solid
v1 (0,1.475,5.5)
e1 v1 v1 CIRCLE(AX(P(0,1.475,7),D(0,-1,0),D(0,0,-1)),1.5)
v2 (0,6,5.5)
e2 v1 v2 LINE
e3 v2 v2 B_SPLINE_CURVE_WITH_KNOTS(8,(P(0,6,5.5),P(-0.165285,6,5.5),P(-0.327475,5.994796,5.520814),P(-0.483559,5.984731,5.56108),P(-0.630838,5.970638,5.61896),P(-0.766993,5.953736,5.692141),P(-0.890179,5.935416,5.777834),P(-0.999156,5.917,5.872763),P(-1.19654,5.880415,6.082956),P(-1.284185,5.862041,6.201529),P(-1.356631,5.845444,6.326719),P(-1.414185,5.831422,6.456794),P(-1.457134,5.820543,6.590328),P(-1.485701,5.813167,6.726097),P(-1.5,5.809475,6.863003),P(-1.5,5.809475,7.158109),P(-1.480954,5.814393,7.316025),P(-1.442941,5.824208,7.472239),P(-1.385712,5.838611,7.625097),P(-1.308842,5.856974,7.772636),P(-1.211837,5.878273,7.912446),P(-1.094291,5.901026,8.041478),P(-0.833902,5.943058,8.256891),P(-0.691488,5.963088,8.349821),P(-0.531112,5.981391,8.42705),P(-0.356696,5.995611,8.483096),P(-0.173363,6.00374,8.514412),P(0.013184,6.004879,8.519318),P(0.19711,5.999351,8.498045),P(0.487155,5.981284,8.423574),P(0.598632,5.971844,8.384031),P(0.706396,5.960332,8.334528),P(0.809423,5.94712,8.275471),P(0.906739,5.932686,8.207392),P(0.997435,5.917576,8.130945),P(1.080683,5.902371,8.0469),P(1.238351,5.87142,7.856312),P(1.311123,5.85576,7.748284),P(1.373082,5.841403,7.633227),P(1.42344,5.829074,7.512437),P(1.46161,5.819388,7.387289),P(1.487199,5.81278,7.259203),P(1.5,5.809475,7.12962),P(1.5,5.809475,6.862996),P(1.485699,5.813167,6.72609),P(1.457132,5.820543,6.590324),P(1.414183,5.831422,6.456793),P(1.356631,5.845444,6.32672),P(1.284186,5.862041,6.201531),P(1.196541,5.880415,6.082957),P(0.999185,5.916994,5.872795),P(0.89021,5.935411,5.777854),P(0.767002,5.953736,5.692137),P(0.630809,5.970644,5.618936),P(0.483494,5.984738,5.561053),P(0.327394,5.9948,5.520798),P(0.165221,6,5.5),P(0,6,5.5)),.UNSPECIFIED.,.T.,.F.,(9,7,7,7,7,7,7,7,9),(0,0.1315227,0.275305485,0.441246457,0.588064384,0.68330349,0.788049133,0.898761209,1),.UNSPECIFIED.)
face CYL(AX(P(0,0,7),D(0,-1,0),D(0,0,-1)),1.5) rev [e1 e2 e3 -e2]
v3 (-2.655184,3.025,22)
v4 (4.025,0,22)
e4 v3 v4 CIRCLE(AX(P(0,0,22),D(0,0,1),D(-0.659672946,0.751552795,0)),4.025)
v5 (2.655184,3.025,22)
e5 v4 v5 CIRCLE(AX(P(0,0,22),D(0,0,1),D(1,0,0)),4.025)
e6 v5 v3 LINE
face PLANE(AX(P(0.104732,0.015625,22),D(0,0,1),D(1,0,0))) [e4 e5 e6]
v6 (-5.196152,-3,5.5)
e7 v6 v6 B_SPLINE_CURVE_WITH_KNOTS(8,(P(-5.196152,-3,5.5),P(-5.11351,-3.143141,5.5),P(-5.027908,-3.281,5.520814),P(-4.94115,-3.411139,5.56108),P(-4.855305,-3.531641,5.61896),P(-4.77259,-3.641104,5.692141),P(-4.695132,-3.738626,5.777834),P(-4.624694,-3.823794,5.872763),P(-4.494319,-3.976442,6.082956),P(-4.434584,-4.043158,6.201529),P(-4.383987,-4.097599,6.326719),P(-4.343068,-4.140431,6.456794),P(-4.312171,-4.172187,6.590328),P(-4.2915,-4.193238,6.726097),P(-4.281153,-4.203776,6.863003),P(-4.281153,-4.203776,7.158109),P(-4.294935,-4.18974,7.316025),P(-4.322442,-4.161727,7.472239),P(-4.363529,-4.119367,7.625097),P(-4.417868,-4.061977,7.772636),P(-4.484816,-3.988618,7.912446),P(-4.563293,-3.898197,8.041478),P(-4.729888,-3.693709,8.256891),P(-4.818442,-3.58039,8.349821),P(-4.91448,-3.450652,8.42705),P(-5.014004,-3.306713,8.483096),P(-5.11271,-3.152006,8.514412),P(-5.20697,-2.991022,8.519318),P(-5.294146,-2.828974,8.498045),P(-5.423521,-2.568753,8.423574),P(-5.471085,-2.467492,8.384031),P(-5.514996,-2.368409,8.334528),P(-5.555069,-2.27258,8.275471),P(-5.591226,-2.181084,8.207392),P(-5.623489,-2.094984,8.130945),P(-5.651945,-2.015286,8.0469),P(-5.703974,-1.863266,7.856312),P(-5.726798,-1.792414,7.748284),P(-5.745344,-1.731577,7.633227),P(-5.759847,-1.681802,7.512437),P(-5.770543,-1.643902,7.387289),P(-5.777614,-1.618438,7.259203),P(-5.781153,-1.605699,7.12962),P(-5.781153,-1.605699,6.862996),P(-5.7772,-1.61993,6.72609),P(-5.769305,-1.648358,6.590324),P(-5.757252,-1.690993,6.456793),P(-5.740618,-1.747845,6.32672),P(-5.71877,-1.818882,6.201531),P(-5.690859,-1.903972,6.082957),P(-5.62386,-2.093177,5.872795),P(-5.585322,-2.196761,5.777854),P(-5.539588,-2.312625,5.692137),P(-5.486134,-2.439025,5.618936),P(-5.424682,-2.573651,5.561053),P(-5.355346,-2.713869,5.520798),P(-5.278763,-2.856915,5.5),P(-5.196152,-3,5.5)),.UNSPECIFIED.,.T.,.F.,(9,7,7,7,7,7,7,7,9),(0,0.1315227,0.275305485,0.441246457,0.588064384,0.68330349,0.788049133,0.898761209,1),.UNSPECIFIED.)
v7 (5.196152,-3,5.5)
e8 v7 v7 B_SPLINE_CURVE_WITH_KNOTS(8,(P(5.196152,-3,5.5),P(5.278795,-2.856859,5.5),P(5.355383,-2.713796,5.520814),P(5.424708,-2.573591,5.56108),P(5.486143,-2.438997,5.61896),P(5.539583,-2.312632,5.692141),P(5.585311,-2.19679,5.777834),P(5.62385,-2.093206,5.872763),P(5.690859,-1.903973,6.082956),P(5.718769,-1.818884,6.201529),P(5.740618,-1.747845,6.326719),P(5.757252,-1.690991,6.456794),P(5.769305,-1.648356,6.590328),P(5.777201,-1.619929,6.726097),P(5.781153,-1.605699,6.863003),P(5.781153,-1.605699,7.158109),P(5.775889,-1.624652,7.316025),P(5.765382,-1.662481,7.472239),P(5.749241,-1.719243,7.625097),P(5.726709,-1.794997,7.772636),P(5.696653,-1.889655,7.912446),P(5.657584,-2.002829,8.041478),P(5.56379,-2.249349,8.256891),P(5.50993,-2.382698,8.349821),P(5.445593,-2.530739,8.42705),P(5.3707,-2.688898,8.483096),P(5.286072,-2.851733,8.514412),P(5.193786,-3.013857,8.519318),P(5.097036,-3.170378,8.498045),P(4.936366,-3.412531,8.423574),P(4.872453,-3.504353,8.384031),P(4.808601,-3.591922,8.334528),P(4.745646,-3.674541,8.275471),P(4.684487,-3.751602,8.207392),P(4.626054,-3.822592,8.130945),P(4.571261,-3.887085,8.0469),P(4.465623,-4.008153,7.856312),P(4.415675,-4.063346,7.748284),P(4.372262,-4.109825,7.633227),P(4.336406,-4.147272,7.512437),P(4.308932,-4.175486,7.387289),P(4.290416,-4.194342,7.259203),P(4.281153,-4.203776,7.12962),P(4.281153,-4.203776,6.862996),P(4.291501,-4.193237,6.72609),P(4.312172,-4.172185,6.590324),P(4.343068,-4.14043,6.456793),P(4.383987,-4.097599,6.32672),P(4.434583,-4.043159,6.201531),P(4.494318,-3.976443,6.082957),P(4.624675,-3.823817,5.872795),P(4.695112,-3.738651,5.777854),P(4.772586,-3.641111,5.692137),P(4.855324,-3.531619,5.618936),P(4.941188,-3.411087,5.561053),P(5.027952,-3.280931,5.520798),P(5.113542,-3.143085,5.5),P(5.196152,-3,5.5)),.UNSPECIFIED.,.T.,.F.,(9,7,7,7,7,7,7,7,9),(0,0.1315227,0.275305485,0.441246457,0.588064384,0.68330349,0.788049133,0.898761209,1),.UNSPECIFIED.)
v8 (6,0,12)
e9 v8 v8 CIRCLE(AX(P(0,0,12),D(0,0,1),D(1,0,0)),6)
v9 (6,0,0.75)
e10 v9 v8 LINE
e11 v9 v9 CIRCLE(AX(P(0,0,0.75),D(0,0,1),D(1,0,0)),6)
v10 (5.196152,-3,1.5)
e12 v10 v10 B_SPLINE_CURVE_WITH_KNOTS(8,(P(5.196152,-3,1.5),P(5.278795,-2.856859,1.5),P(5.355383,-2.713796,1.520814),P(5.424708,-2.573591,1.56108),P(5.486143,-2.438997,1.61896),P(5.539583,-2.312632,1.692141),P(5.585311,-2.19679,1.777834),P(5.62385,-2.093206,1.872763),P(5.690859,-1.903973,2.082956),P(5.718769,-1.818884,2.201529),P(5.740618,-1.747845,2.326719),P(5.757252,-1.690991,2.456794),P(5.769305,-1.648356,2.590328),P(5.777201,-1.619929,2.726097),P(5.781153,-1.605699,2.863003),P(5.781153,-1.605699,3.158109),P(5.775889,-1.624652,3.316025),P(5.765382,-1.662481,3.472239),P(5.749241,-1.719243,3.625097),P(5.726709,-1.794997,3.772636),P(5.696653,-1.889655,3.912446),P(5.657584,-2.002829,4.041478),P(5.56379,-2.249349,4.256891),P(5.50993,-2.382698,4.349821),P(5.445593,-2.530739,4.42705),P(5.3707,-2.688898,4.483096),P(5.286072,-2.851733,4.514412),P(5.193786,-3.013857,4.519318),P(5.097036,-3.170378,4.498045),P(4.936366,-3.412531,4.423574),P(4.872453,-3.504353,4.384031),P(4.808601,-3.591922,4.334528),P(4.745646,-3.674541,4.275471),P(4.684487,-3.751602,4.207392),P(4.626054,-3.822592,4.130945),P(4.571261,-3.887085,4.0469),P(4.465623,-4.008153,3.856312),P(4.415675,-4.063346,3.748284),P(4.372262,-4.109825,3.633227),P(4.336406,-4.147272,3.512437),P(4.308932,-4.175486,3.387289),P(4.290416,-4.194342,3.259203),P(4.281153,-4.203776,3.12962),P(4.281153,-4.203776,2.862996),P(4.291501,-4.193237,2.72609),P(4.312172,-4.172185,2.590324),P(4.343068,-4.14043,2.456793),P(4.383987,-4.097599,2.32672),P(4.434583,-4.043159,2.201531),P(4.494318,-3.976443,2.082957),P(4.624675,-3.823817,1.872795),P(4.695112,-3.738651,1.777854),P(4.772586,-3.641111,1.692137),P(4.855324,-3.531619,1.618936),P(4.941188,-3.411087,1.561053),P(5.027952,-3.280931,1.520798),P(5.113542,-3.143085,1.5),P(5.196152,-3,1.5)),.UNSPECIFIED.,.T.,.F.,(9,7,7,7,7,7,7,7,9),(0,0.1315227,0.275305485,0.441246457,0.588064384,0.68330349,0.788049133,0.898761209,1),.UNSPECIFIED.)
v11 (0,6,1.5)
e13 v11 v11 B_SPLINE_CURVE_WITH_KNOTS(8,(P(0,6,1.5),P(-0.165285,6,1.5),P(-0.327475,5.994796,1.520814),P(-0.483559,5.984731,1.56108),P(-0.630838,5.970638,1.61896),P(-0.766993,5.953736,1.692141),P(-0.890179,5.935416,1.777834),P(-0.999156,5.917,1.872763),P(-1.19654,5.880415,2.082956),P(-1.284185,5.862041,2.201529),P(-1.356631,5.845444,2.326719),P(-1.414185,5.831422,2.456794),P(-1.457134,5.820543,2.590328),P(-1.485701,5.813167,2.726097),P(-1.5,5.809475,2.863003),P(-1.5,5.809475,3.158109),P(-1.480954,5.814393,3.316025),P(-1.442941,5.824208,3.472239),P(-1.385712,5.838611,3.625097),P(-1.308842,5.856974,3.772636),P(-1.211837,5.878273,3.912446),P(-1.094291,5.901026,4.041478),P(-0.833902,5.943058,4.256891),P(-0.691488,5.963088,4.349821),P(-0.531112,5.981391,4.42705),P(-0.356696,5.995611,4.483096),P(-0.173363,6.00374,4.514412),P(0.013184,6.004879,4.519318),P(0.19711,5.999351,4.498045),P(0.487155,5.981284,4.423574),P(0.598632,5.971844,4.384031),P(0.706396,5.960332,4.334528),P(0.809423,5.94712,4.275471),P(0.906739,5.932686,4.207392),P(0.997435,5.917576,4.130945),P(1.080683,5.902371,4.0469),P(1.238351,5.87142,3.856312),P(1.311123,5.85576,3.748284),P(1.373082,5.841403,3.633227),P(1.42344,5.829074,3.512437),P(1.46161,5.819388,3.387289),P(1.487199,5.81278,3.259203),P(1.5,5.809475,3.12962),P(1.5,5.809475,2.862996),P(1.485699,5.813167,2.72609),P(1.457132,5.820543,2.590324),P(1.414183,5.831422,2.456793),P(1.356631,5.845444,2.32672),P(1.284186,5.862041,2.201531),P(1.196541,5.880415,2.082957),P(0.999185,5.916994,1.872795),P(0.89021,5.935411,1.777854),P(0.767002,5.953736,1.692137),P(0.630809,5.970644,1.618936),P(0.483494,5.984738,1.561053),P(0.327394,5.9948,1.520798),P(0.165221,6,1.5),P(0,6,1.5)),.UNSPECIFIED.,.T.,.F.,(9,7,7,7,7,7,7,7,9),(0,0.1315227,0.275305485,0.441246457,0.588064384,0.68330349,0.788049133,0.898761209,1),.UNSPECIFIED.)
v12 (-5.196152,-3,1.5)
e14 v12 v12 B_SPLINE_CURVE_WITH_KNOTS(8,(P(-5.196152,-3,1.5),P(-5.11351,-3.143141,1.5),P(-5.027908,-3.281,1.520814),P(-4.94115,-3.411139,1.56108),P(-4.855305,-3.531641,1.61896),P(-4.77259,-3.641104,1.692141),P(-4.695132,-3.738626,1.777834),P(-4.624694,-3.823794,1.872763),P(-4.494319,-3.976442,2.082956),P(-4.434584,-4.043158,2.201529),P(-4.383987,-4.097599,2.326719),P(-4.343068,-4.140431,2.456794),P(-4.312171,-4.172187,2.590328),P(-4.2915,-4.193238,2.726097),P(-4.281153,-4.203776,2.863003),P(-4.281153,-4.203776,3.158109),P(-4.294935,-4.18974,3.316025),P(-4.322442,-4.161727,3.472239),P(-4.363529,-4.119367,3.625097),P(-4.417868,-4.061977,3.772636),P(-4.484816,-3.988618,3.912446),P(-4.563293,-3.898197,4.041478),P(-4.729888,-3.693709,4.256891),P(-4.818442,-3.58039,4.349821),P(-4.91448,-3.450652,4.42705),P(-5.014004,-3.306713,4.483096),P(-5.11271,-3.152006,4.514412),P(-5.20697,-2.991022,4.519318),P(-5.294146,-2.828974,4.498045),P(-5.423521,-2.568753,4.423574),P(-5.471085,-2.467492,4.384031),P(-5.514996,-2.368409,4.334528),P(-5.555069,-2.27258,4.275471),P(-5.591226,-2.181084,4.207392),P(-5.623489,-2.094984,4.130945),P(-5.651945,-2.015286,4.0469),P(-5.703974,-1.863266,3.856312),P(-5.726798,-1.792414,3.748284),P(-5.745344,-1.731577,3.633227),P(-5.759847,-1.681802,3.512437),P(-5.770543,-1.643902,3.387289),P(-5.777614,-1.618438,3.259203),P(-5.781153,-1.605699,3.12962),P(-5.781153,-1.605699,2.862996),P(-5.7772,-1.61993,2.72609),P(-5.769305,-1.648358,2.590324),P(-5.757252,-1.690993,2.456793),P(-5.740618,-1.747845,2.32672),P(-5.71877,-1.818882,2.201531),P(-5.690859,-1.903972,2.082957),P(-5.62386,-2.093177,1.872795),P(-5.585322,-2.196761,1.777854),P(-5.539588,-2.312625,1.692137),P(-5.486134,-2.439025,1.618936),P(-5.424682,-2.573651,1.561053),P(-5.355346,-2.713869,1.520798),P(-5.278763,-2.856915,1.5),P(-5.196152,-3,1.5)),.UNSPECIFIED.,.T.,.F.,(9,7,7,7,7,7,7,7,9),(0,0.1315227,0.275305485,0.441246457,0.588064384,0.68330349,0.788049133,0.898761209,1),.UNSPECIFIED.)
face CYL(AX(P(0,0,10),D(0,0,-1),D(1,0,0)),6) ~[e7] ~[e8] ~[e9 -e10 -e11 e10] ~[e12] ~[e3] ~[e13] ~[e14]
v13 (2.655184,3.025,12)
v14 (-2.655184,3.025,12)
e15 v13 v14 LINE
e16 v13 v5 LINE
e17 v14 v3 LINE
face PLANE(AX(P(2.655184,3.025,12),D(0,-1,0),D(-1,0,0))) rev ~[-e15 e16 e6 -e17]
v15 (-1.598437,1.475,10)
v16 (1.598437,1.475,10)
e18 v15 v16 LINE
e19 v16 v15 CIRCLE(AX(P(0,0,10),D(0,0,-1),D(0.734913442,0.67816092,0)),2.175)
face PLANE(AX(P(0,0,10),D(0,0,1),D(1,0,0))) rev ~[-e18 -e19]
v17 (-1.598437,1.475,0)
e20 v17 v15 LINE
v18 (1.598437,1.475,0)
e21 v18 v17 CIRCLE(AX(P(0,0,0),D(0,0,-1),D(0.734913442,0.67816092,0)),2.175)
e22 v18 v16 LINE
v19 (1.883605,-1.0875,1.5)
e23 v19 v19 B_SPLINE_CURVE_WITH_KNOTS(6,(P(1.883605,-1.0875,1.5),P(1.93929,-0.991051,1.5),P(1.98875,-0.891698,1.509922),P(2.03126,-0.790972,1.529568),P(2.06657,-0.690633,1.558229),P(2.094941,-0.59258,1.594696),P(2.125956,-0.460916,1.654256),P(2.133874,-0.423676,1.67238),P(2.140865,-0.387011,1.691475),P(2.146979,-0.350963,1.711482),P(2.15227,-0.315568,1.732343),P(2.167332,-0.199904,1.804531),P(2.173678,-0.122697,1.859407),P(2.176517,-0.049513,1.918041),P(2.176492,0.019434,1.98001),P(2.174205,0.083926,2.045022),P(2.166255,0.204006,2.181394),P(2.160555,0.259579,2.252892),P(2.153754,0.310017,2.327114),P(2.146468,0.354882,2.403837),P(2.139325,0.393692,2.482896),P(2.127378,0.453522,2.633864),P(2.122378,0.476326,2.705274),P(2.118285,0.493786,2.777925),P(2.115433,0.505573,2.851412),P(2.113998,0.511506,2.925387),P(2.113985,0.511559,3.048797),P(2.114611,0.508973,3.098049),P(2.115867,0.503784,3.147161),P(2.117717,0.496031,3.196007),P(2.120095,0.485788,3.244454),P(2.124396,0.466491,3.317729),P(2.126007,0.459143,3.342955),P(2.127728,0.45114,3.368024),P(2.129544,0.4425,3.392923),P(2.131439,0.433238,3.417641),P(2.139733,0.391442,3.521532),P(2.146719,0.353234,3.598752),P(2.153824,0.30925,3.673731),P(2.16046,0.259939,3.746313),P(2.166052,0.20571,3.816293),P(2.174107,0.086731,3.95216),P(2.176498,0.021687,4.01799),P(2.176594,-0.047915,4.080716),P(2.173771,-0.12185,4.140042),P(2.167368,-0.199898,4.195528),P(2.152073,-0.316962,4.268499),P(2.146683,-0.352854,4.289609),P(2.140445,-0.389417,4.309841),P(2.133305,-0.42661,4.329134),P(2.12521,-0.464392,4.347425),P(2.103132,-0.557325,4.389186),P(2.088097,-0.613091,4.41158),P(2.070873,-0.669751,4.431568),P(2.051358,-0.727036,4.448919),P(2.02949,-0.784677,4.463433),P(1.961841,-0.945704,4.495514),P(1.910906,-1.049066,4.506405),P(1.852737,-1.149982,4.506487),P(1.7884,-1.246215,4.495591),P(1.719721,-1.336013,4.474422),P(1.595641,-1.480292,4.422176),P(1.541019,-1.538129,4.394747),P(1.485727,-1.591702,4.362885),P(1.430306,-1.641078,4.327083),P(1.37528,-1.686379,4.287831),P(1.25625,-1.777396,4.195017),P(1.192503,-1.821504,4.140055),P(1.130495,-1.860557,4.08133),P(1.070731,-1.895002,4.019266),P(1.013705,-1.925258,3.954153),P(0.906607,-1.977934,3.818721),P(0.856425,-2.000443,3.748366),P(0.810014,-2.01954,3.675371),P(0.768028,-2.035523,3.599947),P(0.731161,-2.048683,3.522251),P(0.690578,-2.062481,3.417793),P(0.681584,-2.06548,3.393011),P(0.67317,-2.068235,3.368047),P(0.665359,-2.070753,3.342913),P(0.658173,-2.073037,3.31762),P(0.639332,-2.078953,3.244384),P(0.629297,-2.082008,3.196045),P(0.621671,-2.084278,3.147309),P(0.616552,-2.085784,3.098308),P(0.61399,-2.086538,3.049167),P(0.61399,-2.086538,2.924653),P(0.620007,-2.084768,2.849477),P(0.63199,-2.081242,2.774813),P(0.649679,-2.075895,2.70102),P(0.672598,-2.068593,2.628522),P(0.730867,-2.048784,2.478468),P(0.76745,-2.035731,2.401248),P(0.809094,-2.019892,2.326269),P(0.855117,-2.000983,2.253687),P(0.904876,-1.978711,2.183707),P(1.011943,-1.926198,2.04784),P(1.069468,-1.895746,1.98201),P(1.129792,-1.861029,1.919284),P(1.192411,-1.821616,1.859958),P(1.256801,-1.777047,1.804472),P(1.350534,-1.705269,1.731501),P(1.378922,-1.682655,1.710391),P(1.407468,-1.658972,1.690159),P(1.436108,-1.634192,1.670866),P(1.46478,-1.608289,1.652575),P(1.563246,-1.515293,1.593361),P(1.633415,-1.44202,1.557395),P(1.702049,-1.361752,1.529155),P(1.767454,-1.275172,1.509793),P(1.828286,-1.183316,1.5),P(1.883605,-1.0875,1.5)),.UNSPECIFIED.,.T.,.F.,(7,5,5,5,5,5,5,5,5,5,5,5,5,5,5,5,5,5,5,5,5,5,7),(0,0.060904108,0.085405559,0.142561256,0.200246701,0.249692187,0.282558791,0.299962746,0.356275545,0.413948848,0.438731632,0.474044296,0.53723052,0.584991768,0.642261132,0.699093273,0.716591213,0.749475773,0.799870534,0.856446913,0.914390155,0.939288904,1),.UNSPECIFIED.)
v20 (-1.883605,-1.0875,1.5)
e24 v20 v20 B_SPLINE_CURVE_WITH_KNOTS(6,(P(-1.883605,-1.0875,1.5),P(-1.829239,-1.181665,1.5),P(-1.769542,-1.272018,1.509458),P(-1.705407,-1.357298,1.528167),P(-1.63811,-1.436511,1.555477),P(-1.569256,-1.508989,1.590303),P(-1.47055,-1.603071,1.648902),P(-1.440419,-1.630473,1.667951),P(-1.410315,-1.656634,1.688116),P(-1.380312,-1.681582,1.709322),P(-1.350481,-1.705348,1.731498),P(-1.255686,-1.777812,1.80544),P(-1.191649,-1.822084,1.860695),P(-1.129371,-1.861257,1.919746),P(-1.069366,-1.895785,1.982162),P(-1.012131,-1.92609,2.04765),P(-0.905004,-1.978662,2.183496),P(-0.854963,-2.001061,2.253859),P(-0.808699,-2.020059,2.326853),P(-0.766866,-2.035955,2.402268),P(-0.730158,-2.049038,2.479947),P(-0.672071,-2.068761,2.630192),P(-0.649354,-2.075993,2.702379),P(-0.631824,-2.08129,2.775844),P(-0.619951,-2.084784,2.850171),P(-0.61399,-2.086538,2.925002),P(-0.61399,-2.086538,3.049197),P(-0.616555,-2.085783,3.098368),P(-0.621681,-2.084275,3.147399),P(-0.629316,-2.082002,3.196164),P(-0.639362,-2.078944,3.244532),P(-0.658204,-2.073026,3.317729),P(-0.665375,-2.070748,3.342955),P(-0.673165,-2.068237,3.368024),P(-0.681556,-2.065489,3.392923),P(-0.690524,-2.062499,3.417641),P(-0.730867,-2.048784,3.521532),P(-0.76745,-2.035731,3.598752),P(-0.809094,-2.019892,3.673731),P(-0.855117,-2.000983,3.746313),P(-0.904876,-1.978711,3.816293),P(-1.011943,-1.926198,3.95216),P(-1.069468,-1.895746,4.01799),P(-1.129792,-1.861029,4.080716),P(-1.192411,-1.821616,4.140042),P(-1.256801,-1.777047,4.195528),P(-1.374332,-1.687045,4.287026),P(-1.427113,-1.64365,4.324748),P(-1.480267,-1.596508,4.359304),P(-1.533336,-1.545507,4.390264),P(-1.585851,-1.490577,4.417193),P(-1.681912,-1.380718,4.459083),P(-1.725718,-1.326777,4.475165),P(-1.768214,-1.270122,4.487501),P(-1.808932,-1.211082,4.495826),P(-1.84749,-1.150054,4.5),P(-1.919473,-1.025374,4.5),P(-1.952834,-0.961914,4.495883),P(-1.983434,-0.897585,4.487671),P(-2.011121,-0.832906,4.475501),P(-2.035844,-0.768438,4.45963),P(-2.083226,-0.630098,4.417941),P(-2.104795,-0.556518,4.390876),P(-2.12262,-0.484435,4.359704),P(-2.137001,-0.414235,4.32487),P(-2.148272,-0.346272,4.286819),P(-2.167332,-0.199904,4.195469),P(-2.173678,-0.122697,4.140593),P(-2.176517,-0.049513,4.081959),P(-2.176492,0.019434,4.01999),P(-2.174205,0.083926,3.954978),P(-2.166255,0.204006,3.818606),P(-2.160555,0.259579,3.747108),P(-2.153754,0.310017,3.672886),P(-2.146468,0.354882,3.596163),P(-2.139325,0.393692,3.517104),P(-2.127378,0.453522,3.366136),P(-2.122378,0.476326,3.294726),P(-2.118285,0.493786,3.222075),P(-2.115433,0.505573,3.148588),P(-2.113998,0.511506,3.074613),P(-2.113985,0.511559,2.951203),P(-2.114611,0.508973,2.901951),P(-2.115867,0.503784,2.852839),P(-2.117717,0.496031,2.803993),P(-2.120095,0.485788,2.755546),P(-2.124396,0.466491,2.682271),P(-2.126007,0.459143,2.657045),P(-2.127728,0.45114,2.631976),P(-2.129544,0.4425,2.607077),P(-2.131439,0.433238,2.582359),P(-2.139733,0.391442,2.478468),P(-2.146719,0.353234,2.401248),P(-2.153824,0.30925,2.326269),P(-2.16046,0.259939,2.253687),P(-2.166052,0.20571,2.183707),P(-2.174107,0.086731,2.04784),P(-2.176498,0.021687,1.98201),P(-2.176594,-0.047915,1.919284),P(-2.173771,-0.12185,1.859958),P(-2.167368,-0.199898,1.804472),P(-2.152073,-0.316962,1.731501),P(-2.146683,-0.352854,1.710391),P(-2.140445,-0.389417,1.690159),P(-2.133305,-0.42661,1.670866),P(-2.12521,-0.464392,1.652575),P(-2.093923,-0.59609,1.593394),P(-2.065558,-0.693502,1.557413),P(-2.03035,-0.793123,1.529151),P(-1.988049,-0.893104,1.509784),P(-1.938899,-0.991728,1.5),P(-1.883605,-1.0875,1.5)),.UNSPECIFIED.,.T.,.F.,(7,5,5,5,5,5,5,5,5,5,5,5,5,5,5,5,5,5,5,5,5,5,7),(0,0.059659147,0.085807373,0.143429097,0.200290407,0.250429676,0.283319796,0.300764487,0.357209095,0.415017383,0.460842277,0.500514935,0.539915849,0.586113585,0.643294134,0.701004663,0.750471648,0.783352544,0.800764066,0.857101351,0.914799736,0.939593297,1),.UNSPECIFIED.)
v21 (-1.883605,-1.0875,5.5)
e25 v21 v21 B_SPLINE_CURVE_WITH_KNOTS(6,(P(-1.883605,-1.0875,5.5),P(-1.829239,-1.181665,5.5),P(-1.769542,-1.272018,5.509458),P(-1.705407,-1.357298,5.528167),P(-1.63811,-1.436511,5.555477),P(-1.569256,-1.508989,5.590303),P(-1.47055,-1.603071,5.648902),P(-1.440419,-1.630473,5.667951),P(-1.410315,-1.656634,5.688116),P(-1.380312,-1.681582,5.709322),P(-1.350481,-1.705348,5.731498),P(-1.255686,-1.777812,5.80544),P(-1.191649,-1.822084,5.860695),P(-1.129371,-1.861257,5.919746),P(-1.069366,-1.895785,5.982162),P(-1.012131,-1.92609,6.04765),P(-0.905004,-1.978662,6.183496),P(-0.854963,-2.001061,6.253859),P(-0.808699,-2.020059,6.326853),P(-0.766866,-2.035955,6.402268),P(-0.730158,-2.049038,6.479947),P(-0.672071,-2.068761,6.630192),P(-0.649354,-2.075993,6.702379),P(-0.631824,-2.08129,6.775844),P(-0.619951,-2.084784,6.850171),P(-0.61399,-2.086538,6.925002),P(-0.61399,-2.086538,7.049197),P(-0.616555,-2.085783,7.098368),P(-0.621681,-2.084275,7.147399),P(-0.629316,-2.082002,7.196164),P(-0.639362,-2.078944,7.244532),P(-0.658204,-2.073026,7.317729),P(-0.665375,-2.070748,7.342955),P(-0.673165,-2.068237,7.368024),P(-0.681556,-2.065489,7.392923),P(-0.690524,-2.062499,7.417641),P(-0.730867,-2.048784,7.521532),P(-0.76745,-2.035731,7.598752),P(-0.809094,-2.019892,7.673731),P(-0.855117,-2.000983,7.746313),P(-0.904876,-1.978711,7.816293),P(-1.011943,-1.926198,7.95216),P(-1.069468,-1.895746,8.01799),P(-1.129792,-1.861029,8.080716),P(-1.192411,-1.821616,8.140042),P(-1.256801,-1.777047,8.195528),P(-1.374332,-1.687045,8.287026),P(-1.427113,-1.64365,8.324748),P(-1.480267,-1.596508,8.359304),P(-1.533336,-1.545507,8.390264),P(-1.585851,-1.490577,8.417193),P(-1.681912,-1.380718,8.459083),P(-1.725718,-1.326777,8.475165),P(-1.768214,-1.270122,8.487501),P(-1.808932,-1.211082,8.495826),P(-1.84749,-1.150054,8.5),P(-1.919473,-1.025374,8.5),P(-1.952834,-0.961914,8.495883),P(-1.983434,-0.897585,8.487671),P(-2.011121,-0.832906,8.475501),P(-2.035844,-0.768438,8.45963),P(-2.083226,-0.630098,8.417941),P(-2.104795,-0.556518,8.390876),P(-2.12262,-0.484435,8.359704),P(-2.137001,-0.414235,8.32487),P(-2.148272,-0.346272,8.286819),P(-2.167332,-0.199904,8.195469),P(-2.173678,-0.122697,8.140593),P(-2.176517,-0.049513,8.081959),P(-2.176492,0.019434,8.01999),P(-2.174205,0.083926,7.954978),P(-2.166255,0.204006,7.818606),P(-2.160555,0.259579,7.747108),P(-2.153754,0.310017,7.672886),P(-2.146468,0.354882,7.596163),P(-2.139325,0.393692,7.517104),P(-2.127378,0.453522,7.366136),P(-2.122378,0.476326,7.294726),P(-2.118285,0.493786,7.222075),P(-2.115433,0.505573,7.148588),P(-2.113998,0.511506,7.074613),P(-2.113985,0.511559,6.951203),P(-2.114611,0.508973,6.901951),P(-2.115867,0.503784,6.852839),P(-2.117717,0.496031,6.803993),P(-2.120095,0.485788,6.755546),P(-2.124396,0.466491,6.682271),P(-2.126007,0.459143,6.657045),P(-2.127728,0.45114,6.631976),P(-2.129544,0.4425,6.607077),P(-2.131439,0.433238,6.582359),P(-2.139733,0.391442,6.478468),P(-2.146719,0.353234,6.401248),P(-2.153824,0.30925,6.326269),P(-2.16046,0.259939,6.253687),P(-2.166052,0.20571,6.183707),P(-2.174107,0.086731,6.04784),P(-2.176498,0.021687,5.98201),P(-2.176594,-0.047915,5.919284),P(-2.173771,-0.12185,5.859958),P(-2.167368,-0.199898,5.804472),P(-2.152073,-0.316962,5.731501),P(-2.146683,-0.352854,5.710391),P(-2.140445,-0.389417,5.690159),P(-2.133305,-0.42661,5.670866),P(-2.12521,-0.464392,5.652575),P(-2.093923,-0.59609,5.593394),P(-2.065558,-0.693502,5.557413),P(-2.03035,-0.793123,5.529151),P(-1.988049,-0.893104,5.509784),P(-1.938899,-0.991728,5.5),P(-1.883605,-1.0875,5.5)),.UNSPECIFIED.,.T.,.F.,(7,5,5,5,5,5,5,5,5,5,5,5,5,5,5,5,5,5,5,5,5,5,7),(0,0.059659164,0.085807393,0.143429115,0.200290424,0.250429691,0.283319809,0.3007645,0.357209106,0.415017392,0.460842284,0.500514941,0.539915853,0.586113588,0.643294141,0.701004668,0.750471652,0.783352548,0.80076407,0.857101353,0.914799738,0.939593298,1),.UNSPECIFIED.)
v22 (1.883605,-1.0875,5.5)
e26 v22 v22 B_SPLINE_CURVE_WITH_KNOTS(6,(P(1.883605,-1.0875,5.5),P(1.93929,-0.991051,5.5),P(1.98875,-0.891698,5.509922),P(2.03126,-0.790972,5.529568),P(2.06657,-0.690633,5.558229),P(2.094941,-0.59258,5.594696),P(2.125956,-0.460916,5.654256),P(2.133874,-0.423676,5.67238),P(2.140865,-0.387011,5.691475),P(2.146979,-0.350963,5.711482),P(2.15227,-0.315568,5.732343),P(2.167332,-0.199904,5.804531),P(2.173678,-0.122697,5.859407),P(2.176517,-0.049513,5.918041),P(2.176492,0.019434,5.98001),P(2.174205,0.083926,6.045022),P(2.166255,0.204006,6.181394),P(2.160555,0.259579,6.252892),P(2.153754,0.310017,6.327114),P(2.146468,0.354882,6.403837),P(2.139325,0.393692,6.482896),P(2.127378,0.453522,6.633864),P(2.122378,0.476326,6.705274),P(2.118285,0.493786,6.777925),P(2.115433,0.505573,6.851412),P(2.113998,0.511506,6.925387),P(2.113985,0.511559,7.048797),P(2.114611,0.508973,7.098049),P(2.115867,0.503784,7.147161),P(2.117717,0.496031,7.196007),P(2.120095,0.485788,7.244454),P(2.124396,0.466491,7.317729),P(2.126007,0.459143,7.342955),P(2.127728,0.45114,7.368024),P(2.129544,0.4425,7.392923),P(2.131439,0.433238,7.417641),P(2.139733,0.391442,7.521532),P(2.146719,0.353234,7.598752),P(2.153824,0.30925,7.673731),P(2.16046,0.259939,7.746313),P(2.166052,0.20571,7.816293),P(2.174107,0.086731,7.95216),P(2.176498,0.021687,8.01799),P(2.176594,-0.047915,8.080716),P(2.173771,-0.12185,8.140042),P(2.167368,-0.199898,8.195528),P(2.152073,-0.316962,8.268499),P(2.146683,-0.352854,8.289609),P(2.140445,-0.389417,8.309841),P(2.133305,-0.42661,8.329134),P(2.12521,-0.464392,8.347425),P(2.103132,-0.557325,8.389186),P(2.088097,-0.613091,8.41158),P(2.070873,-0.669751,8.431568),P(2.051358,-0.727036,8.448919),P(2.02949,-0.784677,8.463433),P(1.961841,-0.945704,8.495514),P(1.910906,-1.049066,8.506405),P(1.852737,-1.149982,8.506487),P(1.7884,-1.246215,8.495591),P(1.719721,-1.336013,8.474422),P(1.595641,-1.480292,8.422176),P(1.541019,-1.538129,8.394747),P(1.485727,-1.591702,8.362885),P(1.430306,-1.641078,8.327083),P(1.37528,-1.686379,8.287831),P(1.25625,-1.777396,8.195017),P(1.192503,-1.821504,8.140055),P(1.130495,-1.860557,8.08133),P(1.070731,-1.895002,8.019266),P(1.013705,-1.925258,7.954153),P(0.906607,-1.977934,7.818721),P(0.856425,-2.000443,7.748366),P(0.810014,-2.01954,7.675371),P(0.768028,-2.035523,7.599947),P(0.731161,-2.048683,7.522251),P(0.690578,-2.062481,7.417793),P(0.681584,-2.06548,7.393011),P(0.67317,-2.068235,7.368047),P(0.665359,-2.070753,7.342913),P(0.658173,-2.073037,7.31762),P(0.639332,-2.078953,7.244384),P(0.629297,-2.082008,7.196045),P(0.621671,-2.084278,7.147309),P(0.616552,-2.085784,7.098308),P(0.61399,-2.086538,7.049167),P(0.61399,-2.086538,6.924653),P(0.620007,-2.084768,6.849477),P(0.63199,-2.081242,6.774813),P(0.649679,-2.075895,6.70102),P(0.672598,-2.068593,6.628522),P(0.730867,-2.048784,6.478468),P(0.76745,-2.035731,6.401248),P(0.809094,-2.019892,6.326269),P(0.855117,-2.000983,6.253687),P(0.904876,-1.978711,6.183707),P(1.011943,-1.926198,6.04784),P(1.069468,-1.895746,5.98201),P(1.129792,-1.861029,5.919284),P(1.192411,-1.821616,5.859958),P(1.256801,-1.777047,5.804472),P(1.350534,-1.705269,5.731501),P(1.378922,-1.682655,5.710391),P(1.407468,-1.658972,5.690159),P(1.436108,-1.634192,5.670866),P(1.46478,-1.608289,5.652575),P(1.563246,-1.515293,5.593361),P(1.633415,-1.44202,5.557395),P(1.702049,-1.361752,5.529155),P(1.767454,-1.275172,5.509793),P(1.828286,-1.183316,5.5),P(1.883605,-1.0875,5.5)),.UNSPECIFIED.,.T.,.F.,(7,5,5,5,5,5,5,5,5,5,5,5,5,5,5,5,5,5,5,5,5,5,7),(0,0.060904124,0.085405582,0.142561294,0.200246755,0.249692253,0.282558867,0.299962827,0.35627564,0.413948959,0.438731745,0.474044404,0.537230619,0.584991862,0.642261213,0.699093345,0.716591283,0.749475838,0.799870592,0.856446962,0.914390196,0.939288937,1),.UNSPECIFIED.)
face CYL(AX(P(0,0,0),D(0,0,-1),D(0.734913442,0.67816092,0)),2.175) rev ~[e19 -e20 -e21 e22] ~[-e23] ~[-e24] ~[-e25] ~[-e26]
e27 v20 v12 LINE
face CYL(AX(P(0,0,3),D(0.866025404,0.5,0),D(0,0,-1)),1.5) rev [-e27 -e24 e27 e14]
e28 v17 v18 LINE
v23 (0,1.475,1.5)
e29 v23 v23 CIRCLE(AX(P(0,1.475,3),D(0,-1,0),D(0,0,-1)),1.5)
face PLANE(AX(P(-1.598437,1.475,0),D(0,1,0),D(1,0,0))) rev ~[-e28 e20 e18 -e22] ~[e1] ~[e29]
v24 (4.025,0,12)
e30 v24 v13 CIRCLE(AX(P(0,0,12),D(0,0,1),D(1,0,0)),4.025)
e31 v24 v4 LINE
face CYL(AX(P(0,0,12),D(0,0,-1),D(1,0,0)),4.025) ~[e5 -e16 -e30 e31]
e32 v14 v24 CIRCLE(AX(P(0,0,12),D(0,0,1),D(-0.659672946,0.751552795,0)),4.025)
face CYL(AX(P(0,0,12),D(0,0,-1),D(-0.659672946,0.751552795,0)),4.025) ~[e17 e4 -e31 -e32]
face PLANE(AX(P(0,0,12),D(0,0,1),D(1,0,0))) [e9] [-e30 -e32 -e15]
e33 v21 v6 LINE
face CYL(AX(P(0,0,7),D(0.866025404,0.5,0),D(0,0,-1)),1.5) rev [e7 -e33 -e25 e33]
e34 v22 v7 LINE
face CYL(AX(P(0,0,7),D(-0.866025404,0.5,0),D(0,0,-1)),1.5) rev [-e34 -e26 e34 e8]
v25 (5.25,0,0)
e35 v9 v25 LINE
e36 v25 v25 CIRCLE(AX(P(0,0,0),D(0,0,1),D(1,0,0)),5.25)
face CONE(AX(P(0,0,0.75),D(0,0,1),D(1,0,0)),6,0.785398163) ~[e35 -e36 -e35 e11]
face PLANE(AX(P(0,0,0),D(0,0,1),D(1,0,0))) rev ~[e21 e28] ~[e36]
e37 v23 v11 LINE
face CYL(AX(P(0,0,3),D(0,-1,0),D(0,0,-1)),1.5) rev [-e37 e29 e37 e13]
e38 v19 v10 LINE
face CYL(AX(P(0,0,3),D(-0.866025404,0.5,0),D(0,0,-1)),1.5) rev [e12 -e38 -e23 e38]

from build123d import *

# Parameters (mm, degrees)
SKETCH1_R               = 6
BOSS_EXTRUDE1_DEPTH     = 10
CUT_EXTRUDE1_REACH      = 15.115
CUT_EXTRUDE1_END_RADIUS = 6
SKETCH3_R               = 1.5
SKETCH4_R               = 6
BOSS_EXTRUDE2_DEPTH     = 2
BOSS_EXTRUDE3_DEPTH     = 10
CHAMFER1_SIZE           = 0.75
CIRPATTERN1_COUNT       = 3


with BuildPart() as part:
    # Sketch1 → Boss-Extrude1 (new body)
    with BuildSketch(Plane.XY):
        Circle(SKETCH1_R)
        with BuildLine():
            Line((-1.598436736, 1.475), (1.598436736, 1.475))
            ThreePointArc((1.598436736, 1.475), (0, -2.175), (-1.598436736, 1.475))
        make_face(mode=Mode.SUBTRACT)
    extrude(amount=BOSS_EXTRUDE1_DEPTH)

    # Cut-Extrude1: up to this cylinder (the profile starts inside it)
    cut_extrude1_end = Plane(origin=(0, 0, 5), z_dir=(0, 0, -1)) * Cylinder(CUT_EXTRUDE1_END_RADIUS, 47.23, mode=Mode.PRIVATE)
    # Sketch3 → Cut-Extrude1 (cut, up to the surface)
    with BuildSketch(Plane(origin=(0, 0, 0), x_dir=(1, 0, 0), z_dir=(0, 1, 0)), mode=Mode.PRIVATE) as cut_extrude1_sk1:
        with Locations(Location((0, -3, 0), (0, 0, 90))):
            Circle(SKETCH3_R)
    cut_extrude1_tool1 = extrude(cut_extrude1_sk1.sketch, amount=CUT_EXTRUDE1_REACH, mode=Mode.PRIVATE) & cut_extrude1_end
    # Sketch3 → Cut-Extrude1 (cut, up to the surface)
    with BuildSketch(Plane(origin=(0, 0, 0), x_dir=(1, 0, 0), z_dir=(0, 1, 0)), mode=Mode.PRIVATE) as cut_extrude1_sk2:
        with Locations(Location((0, -7, 0), (0, 0, 90))):
            Circle(SKETCH3_R)
    cut_extrude1_tool2 = extrude(cut_extrude1_sk2.sketch, amount=CUT_EXTRUDE1_REACH, mode=Mode.PRIVATE) & cut_extrude1_end
    cut_extrude1 = cut_extrude1_tool1.solids().sort_by_distance((0, 0, 3))[0] + cut_extrude1_tool2.solids().sort_by_distance((0, 0, 7))[0]
    add(cut_extrude1, mode=Mode.SUBTRACT)

    # Sketch4 → Boss-Extrude2 (add)
    with BuildSketch(Plane.XY.offset(10)):
        Circle(SKETCH4_R)
    extrude(amount=BOSS_EXTRUDE2_DEPTH)

    # Sketch6 → Boss-Extrude3 (add)
    with BuildSketch(Plane.XY.offset(12)):
        with BuildLine():
            Line((2.655183609, 3.025), (-2.655183609, 3.025))
            ThreePointArc((-2.655183609, 3.025), (-1.660348001, -3.666588266), (4.025, 0))
            ThreePointArc((4.025, 0), (3.666588266, 1.660348001), (2.655183609, 3.025))
        make_face()
    extrude(amount=BOSS_EXTRUDE3_DEPTH)

    # Chamfer1
    chamfer1_edges = [part.edges().sort_by_distance(p)[0] for p in [
        (-6, 0, 0),
    ]]
    chamfer(chamfer1_edges, length=CHAMFER1_SIZE)

    # CirPattern1: Cut-Extrude1 ×3 about axis
    cirpattern1_axis = Axis((0, 0, 0), (0, 0, -1))
    for i in range(1, CIRPATTERN1_COUNT):
        add(cut_extrude1.rotate(cirpattern1_axis, i * 360 / CIRPATTERN1_COUNT), mode=Mode.SUBTRACT)


solid = part.part
